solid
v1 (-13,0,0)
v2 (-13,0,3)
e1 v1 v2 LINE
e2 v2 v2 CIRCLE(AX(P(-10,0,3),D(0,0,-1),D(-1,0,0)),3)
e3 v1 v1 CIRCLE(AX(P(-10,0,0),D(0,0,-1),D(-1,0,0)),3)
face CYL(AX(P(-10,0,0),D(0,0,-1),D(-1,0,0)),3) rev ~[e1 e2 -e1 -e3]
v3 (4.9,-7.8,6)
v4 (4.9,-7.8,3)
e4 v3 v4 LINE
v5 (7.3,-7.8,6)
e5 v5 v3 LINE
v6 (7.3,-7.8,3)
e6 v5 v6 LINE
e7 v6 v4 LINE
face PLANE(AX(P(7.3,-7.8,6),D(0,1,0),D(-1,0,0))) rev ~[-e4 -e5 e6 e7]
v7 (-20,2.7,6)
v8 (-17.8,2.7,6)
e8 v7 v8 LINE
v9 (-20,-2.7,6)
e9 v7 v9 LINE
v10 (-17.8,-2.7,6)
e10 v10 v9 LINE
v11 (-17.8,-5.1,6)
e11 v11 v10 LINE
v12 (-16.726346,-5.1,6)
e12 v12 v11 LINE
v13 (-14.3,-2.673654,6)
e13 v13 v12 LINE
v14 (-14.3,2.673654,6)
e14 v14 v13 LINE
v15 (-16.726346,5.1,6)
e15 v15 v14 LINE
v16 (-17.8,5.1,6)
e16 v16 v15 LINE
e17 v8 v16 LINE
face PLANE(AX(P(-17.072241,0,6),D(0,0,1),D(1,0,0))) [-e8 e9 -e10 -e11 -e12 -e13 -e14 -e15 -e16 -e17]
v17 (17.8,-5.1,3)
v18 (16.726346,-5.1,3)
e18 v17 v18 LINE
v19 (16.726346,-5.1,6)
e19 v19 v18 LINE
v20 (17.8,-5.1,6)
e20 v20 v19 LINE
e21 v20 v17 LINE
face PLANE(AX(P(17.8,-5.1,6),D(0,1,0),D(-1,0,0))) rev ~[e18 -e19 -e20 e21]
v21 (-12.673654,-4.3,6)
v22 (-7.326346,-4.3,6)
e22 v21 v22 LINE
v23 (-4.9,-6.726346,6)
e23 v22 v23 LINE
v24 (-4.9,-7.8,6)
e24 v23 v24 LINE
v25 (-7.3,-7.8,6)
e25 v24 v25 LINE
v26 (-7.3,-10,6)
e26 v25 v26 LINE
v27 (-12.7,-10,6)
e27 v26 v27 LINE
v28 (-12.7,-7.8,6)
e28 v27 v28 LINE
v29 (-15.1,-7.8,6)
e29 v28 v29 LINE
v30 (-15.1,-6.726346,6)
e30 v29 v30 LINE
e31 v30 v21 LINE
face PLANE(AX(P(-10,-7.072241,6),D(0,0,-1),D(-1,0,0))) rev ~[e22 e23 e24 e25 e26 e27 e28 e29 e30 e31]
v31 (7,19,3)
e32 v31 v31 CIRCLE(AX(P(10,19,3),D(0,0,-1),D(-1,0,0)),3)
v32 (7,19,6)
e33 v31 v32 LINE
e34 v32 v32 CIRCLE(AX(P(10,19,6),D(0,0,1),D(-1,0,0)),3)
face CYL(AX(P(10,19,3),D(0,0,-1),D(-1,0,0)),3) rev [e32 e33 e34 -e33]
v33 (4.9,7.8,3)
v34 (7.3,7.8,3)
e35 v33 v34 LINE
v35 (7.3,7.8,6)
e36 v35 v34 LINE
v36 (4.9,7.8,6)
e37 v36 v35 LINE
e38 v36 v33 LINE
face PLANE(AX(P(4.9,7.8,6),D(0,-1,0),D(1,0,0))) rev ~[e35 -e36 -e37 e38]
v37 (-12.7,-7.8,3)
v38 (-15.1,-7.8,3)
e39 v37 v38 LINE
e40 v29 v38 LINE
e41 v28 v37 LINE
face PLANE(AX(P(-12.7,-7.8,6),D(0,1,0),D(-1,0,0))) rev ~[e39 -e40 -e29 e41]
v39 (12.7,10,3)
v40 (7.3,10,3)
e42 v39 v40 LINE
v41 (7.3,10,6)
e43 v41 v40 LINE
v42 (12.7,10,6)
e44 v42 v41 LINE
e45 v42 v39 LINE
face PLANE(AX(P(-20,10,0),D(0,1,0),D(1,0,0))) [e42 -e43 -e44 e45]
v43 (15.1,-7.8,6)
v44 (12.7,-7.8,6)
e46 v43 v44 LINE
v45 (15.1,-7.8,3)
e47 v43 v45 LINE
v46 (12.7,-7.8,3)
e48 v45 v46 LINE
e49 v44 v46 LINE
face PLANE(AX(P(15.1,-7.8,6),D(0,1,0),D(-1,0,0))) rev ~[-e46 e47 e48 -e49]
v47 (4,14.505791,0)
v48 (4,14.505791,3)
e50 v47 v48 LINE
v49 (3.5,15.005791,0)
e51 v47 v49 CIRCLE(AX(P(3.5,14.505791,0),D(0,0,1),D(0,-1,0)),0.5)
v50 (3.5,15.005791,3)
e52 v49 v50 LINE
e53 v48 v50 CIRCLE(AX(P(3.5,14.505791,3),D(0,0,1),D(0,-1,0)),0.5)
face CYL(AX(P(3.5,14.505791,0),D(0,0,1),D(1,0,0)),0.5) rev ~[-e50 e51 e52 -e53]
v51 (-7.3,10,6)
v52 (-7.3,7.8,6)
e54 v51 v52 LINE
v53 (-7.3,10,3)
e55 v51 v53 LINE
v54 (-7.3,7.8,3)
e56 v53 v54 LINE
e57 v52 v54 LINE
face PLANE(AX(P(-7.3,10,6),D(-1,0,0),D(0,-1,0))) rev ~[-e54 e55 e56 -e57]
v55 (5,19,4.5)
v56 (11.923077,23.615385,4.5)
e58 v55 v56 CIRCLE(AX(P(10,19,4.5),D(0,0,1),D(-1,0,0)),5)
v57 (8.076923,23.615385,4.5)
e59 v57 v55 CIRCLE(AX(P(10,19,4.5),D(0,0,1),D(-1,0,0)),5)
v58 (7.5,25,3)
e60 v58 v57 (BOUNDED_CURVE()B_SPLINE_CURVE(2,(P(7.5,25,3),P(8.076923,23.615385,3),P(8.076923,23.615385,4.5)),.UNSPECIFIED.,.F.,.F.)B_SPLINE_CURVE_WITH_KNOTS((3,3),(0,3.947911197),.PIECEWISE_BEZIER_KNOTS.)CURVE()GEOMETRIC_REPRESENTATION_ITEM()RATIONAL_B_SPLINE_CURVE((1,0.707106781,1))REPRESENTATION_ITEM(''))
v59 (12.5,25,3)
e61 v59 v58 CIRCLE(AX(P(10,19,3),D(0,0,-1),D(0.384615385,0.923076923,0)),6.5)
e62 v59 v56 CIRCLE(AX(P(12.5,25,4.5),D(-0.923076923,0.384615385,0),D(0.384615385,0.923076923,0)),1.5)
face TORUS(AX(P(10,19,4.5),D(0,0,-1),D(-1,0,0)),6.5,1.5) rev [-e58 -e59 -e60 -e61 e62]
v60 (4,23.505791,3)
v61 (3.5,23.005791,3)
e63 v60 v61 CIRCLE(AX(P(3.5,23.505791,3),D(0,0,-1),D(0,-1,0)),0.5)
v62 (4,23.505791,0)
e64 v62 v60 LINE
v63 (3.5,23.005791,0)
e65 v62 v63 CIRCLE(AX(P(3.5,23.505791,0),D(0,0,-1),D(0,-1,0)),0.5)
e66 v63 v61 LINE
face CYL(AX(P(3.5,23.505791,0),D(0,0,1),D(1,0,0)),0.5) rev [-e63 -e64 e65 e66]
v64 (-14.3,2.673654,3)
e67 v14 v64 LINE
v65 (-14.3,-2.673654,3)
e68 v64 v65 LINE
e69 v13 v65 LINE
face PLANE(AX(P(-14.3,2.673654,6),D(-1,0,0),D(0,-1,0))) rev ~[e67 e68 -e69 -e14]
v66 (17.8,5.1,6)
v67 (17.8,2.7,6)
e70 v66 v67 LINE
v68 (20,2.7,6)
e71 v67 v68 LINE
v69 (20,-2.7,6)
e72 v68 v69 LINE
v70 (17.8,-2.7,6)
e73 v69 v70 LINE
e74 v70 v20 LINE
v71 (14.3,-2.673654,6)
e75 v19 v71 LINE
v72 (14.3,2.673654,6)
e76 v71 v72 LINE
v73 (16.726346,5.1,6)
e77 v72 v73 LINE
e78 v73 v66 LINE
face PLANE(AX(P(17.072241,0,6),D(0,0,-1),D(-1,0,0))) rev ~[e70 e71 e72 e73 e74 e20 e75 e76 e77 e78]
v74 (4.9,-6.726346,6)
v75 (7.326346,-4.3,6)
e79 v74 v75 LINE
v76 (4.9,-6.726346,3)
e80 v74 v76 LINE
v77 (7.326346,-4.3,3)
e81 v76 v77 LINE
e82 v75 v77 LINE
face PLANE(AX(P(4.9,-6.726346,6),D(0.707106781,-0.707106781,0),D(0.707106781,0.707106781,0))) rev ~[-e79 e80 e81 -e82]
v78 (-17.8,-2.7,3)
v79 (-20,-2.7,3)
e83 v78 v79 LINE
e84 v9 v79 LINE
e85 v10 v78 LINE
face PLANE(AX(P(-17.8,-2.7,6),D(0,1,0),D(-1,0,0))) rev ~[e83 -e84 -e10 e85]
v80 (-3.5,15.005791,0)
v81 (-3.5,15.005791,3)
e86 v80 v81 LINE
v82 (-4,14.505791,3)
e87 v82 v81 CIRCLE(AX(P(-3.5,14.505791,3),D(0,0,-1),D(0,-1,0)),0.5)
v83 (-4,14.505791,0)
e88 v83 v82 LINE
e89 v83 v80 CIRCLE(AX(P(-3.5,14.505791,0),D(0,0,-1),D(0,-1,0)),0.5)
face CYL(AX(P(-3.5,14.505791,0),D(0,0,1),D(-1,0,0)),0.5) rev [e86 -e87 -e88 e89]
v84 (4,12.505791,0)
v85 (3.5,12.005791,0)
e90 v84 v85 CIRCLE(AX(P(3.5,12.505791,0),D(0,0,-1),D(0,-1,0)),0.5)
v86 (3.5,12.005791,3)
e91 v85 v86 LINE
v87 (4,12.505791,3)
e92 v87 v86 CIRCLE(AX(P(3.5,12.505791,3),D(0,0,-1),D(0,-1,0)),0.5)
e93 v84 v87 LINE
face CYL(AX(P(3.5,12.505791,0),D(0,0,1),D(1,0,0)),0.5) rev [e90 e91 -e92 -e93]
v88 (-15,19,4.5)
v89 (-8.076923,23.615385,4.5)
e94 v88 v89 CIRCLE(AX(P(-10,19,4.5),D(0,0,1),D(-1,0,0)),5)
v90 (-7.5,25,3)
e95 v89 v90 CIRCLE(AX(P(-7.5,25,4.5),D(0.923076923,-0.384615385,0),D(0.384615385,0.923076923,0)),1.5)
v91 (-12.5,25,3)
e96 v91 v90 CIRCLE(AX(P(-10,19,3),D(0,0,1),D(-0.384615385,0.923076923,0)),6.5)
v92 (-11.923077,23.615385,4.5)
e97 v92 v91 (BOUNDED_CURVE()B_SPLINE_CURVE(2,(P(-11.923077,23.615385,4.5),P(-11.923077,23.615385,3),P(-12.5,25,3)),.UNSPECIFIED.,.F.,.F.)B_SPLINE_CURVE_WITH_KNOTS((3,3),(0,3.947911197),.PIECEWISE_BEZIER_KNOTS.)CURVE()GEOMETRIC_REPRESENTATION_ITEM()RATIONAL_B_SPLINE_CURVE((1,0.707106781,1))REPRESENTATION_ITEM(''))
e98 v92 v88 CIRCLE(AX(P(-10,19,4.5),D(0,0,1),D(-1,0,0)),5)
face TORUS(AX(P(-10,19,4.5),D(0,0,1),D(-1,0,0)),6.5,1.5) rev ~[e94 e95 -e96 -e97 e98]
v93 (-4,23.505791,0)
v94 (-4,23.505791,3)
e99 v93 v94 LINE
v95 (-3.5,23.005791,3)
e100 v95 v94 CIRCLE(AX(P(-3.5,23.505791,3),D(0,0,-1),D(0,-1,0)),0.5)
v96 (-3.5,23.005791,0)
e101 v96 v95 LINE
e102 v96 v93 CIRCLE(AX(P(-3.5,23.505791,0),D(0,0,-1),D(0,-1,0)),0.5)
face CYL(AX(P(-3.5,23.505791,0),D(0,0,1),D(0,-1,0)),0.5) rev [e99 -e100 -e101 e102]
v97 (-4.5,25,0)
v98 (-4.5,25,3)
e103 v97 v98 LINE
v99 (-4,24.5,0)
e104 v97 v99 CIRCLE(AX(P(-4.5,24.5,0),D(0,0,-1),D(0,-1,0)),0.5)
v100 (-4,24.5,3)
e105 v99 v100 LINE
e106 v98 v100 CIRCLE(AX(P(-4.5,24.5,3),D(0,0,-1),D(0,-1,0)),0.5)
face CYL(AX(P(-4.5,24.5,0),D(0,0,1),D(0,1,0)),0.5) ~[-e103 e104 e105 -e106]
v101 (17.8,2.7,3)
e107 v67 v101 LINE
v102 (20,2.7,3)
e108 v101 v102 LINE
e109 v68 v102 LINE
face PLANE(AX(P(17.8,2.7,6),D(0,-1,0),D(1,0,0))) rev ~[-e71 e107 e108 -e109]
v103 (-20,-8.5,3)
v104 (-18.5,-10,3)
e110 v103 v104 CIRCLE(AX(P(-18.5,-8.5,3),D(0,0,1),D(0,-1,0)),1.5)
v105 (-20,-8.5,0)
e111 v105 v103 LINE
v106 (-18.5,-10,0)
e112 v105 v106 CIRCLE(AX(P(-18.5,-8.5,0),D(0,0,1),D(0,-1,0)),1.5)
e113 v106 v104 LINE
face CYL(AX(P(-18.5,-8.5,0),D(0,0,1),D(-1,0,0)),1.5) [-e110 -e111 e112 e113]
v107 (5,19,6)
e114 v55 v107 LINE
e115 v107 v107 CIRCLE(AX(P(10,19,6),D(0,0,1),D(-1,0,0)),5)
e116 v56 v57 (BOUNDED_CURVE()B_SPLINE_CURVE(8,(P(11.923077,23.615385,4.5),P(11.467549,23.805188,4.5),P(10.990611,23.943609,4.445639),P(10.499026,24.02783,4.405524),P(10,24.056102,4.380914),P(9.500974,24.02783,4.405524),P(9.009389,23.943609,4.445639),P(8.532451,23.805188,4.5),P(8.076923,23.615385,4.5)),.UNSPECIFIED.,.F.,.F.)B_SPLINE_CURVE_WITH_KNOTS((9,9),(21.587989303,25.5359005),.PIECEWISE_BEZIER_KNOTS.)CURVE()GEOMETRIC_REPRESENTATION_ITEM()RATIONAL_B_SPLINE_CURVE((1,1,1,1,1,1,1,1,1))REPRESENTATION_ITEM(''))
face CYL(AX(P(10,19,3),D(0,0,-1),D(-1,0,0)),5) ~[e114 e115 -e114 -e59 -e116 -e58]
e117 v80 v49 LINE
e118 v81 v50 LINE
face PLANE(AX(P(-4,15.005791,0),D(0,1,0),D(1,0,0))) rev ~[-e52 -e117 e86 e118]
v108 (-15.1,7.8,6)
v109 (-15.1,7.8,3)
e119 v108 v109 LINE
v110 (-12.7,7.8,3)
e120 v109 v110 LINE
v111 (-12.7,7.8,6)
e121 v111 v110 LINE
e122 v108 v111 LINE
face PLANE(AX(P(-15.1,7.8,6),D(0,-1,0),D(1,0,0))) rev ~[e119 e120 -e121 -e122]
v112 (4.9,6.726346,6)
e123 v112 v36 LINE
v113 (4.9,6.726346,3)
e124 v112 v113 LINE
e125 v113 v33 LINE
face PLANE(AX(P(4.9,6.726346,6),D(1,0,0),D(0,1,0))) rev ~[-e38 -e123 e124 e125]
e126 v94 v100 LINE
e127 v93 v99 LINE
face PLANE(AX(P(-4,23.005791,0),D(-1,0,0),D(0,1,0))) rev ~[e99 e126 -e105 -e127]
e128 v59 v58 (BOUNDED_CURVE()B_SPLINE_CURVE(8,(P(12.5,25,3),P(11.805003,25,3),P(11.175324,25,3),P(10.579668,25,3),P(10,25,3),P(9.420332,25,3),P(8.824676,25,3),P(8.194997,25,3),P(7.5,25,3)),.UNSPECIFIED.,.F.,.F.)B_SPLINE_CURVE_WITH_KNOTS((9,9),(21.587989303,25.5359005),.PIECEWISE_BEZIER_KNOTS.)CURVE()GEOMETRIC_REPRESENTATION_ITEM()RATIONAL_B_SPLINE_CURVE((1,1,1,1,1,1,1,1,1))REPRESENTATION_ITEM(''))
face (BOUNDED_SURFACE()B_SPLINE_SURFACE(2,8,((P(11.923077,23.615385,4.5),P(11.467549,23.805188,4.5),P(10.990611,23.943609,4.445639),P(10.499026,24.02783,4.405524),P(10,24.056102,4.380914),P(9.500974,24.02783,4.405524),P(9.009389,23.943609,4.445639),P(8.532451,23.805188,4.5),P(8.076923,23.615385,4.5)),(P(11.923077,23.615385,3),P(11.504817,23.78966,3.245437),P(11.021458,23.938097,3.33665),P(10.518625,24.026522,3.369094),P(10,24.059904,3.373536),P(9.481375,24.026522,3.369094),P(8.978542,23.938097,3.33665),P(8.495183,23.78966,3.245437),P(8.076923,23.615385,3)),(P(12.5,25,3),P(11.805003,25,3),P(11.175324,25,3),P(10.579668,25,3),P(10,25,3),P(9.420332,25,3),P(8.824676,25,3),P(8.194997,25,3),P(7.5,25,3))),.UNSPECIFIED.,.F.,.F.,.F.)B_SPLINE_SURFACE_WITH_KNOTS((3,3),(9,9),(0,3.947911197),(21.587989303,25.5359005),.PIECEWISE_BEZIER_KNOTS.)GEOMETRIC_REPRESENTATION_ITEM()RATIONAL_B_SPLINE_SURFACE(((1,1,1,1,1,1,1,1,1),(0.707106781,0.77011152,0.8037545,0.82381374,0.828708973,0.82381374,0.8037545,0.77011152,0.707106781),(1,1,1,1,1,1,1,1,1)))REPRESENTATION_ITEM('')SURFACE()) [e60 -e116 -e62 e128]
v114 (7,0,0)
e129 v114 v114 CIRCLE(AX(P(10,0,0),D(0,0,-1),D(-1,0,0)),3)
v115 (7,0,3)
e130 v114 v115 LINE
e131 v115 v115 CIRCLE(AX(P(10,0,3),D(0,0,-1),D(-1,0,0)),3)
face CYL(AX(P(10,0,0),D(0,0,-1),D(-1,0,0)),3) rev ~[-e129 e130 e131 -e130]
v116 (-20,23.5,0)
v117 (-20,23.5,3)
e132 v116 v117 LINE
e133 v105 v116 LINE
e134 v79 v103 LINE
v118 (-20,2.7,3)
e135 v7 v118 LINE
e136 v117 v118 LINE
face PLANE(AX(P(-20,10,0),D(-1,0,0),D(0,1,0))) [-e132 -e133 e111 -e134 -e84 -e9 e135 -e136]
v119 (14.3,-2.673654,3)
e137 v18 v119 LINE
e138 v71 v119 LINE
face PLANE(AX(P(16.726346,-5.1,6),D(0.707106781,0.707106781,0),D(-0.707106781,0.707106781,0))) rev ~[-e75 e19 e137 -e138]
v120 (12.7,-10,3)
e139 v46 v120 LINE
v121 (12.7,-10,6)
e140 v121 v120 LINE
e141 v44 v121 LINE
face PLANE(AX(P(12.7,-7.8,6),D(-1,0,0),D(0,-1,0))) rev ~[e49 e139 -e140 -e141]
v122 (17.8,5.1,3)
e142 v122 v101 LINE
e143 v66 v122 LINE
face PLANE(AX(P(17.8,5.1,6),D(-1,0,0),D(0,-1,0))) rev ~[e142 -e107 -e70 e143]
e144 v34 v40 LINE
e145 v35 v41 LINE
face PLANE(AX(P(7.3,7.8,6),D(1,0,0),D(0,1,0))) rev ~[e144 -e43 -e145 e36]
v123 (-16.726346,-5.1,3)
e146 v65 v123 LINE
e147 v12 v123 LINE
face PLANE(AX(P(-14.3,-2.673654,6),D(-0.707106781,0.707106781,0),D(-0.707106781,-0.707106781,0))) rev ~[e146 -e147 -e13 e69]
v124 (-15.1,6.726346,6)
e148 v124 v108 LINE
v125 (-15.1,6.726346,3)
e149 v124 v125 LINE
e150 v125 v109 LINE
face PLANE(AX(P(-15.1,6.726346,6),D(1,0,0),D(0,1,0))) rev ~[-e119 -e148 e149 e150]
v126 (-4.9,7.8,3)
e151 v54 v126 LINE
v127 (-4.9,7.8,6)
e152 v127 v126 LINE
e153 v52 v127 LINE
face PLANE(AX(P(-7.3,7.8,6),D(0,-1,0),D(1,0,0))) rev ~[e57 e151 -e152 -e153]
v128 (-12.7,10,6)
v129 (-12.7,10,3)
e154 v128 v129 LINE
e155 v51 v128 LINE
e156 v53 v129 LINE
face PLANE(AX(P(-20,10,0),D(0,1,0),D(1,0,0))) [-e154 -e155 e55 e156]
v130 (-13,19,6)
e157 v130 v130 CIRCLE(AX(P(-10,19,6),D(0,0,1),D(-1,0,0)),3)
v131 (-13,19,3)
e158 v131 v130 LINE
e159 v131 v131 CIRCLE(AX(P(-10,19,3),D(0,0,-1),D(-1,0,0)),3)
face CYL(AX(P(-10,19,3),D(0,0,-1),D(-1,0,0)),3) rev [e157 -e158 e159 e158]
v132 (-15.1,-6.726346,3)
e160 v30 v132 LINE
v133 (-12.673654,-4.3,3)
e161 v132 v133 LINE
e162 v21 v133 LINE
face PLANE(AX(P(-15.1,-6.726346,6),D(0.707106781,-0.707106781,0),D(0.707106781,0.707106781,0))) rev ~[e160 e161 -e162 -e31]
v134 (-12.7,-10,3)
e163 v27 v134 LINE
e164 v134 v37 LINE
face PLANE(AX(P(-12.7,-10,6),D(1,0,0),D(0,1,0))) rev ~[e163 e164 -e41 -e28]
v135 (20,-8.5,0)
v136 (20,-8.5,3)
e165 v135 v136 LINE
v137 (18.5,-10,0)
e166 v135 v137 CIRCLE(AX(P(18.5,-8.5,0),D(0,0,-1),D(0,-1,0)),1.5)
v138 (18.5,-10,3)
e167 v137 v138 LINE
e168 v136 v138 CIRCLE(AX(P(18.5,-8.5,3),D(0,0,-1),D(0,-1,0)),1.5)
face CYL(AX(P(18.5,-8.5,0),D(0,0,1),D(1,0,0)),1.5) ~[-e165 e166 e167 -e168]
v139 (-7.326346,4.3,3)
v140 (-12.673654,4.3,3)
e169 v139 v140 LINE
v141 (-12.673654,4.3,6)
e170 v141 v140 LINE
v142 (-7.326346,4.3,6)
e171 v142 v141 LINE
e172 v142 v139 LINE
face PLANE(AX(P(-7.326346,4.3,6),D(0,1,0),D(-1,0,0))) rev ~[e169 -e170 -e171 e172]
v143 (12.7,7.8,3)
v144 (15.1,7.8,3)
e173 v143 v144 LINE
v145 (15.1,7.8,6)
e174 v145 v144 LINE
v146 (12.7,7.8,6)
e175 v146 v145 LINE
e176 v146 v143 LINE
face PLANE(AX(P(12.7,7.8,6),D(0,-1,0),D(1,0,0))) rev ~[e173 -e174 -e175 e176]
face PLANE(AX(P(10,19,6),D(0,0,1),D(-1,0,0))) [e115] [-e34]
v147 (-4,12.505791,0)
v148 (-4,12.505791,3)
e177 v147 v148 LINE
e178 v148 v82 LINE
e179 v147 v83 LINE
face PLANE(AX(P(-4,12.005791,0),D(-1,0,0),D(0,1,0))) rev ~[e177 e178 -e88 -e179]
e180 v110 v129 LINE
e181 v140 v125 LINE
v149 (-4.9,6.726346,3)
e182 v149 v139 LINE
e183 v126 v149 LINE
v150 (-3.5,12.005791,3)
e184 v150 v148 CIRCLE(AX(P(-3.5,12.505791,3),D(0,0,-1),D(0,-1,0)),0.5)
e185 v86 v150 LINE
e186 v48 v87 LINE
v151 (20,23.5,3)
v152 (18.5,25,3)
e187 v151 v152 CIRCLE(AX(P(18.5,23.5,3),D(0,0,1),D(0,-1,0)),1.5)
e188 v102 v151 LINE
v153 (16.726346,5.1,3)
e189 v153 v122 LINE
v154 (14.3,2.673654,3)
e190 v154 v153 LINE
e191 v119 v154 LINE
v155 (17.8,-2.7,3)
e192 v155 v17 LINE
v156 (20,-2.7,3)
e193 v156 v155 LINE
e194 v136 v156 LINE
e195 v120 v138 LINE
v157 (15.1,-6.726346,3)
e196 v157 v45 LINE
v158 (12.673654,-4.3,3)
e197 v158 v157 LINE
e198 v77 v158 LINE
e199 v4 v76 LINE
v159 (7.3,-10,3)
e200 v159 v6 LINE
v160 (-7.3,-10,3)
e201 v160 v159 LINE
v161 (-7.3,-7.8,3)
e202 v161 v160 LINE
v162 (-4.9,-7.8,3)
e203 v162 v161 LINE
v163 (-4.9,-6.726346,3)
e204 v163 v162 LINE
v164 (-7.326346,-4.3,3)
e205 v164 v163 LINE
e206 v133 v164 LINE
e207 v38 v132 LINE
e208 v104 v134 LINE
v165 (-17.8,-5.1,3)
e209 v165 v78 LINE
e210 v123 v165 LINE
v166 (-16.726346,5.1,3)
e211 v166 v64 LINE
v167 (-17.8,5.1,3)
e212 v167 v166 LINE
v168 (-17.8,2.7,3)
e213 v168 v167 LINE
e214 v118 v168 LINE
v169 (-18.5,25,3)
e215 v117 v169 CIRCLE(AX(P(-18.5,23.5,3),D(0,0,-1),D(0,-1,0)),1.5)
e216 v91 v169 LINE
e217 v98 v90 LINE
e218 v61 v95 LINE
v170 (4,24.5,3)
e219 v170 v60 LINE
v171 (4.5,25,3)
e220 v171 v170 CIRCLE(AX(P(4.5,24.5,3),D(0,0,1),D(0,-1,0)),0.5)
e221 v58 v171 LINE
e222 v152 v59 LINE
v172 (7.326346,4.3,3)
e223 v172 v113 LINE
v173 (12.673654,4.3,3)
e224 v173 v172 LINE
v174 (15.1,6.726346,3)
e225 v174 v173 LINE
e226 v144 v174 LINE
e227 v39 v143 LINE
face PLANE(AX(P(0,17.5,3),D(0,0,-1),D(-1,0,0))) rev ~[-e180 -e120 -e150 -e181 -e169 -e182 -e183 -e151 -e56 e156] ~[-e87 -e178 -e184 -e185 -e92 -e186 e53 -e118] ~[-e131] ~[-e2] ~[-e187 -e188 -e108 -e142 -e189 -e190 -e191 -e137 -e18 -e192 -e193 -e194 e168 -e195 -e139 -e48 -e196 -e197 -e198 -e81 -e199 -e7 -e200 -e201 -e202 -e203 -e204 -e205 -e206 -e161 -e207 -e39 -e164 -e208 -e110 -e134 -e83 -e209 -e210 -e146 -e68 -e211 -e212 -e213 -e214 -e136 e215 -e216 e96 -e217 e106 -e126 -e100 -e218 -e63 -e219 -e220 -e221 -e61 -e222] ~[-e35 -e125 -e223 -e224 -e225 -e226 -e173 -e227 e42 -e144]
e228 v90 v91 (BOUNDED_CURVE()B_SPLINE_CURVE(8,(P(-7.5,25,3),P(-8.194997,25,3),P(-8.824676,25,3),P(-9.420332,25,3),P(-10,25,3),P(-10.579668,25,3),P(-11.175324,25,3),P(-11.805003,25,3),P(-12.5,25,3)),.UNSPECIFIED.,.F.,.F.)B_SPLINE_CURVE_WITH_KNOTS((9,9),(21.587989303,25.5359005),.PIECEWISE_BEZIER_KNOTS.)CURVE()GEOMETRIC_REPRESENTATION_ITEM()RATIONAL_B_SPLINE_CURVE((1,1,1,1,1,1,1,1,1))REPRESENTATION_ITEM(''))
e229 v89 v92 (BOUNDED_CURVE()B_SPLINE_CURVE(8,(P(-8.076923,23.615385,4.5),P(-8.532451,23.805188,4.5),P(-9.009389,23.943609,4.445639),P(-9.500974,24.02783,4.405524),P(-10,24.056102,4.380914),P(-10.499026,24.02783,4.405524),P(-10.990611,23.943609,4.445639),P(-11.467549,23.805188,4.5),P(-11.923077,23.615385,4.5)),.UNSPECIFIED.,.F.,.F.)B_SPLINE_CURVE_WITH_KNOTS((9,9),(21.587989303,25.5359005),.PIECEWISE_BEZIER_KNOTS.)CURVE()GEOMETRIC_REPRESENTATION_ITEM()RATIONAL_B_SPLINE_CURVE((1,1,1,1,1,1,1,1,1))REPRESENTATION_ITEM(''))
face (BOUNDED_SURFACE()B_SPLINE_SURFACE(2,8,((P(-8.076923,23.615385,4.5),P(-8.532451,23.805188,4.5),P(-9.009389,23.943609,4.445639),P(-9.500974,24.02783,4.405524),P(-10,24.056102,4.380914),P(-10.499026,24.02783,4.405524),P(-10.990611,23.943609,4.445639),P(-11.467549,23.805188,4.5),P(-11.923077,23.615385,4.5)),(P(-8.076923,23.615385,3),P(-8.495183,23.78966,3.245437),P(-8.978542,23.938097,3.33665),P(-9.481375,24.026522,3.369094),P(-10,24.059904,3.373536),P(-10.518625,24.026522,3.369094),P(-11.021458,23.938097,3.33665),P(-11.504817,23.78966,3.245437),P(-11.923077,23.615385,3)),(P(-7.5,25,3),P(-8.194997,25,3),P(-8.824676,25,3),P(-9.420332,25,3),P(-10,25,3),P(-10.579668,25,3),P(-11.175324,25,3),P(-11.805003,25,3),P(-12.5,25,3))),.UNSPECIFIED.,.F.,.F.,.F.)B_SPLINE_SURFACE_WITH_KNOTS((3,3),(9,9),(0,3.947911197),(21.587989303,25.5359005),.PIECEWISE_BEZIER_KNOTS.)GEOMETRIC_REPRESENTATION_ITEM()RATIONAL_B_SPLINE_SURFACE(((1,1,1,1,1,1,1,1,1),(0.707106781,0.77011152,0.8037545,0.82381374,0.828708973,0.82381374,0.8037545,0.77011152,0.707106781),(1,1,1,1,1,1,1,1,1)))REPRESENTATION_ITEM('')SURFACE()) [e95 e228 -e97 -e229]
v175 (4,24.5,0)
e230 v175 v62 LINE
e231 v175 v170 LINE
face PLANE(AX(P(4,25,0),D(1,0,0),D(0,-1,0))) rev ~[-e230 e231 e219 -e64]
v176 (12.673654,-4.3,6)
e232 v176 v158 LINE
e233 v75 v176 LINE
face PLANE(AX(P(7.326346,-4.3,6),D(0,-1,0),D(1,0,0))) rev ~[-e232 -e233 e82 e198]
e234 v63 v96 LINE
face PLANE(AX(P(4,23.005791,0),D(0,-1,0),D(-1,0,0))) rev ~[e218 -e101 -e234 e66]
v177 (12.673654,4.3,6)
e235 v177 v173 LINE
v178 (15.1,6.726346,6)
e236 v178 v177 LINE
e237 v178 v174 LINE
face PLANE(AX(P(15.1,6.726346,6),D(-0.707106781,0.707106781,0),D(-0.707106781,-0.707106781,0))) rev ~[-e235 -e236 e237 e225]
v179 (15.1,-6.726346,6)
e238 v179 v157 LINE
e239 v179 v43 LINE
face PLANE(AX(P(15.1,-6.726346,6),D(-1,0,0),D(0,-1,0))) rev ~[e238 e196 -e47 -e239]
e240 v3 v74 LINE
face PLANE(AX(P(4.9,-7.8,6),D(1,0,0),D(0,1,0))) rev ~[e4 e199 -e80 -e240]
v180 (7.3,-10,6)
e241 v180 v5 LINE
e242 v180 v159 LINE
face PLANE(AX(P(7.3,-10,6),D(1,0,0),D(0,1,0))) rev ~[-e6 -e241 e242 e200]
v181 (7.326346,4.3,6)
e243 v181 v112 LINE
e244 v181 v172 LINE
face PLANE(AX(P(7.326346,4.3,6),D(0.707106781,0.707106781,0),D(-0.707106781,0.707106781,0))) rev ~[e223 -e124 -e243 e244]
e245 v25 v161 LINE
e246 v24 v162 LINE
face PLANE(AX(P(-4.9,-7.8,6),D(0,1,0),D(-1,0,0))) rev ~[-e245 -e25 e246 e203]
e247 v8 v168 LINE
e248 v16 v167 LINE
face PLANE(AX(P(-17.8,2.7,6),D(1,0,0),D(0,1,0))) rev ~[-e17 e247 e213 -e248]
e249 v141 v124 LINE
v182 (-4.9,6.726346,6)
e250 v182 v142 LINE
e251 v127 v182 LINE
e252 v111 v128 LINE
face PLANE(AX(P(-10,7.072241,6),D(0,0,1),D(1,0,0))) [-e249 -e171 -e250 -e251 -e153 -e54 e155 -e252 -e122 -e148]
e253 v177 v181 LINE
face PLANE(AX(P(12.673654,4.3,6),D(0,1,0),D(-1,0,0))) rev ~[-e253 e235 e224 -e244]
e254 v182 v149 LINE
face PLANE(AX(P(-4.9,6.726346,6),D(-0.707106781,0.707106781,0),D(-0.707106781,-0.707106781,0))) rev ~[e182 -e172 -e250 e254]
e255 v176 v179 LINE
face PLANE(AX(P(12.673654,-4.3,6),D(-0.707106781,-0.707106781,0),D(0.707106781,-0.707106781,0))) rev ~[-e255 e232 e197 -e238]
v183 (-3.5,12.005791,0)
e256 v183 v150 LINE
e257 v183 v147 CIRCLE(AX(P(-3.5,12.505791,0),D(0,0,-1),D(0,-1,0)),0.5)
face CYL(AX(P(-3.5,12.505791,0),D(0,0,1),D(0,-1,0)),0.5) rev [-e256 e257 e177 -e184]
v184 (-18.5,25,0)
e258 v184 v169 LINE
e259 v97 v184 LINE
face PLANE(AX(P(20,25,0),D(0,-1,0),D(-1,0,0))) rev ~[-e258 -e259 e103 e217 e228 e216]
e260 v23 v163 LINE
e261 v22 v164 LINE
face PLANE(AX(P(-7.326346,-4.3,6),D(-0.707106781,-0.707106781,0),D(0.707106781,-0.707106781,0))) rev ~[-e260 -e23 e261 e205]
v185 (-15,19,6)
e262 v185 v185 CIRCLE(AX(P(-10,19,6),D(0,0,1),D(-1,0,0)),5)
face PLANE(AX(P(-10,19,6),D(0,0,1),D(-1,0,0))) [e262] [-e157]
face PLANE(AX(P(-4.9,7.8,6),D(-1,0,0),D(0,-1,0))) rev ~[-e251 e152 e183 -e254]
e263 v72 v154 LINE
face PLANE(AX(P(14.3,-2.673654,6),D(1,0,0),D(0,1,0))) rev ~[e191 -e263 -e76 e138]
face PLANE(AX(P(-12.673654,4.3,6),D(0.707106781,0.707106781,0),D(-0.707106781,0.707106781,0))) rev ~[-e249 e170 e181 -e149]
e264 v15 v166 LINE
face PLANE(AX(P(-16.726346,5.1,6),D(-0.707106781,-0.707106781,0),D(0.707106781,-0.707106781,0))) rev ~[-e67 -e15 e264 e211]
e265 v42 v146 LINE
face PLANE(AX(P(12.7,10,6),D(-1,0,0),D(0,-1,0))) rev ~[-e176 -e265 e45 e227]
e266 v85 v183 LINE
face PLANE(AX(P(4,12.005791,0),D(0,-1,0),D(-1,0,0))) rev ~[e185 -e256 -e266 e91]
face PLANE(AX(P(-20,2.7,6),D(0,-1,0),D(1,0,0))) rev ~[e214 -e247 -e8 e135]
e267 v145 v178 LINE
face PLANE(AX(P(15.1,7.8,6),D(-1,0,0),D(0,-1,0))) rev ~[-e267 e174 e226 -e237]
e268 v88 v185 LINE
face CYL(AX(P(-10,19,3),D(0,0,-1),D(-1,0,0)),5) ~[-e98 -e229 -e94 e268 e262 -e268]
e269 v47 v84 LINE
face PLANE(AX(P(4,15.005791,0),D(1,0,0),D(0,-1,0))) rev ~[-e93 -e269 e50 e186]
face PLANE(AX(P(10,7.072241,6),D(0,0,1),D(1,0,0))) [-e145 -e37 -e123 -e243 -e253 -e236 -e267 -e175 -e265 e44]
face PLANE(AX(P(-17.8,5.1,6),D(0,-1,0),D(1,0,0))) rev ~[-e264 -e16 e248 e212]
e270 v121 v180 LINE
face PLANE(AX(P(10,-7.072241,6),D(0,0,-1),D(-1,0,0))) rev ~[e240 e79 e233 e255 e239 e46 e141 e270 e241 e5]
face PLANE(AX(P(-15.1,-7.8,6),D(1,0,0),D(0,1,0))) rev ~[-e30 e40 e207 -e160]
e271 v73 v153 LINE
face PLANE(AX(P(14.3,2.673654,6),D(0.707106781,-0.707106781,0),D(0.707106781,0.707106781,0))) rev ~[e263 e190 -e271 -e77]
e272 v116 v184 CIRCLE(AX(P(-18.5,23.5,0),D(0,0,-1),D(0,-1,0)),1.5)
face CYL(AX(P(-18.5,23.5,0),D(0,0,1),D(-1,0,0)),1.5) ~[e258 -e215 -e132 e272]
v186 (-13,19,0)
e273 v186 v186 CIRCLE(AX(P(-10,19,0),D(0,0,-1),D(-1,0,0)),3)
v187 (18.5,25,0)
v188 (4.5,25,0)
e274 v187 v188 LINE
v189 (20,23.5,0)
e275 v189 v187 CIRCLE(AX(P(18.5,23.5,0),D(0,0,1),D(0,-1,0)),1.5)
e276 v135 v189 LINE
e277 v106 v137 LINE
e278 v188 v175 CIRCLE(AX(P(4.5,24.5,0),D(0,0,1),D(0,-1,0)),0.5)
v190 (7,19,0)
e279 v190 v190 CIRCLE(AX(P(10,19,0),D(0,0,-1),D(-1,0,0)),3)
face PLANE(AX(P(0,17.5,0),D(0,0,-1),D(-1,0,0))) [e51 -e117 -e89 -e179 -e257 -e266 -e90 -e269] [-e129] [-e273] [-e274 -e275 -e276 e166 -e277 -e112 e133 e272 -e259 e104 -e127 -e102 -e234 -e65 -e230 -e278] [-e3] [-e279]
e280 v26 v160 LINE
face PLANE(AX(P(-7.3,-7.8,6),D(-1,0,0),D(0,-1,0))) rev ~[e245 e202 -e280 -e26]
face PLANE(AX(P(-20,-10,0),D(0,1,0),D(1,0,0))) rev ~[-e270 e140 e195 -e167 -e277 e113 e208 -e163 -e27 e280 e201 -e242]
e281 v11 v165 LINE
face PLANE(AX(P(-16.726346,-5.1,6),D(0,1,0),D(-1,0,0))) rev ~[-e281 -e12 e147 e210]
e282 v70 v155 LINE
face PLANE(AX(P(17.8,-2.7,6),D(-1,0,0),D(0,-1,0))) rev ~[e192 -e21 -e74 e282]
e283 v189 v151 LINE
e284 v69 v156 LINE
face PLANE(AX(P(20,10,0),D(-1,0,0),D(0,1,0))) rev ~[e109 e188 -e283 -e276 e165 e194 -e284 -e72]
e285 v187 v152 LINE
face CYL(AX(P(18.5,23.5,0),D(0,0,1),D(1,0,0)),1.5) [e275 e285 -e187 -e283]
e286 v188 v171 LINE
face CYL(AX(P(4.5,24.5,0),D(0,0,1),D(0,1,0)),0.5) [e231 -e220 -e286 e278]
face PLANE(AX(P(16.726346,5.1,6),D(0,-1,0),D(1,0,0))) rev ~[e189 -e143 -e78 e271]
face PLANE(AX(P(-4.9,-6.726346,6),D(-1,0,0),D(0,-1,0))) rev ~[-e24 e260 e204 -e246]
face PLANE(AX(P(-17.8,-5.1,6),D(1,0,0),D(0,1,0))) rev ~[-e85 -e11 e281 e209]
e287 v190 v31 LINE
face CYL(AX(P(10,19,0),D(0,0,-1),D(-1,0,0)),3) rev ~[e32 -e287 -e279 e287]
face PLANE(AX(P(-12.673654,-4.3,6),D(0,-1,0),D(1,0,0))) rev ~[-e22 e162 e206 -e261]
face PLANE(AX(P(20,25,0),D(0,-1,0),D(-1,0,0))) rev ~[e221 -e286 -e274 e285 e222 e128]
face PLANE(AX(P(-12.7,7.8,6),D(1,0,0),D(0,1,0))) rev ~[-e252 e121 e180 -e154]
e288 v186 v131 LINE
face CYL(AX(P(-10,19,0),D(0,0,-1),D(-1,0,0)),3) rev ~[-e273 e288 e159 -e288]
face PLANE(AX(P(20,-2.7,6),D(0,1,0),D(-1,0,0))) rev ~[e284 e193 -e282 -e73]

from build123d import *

# Parameters (mm, degrees)
SKETCH_1_W          = 40
SKETCH_1_H          = 20
EXTRUDE_1_DEPTH     = 3
EXTRUDE_2_DEPTH     = 3
SKETCH_3_R          = 3
CUT_EXTRUDE_1_DEPTH = 3
SKETCH_4_W          = 40
SKETCH_4_H          = 15
SKETCH_4_R          = 3
EXTRUDE_3_DEPTH     = 3
FILLET_3_R          = 1.5
SKETCH_5_R          = 5
SKETCH_5_R_2        = 3
EXTRUDE_4_DEPTH     = 3
FILLET_4_R          = 1.5
CUT_EXTRUDE_2_DEPTH = 10
FILLET_6_R          = 0.5
CUT_EXTRUDE_3_DEPTH = 3


with BuildPart() as part:
    # 草图1 → 凸台-拉伸1 (new body)
    with BuildSketch(Plane.XY):
        Rectangle(SKETCH_1_W, SKETCH_1_H)
    extrude(amount=EXTRUDE_1_DEPTH)

    # 草图2 → 凸台-拉伸2 (add)
    with BuildSketch(Plane.XY.offset(3)):
        Polygon((-6.9, 8.2), (-6.9, 10), (-13.1, 10), (-13.1, 8.2), (-15.5, 8.2), (-15.5, 6.560660172), (-12.839339828, 3.9), (-7.160660172, 3.9), (-4.5, 6.560660172), (-4.5, 8.2), align=None)
        Polygon((-16.560660172, 5.5), (-18.2, 5.5), (-18.2, 3.1), (-20, 3.1), (-20, -3.1), (-18.2, -3.1), (-18.2, -5.5), (-16.560660172, -5.5), (-13.9, -2.839339828), (-13.9, 2.839339828), align=None)
        Polygon((-12.839339828, -3.9), (-7.160660172, -3.9), (-4.5, -6.560660172), (-4.5, -8.2), (-6.9, -8.2), (-6.9, -10), (-13.1, -10), (-13.1, -8.2), (-15.5, -8.2), (-15.5, -6.560660172), align=None)
        Polygon((18.2, 3.1), (20, 3.1), (20, -3.1), (18.2, -3.1), (18.2, -5.5), (16.560660172, -5.5), (13.9, -2.839339828), (13.9, 2.839339828), (16.560660172, 5.5), (18.2, 5.5), align=None)
        Polygon((13.1, 8.2), (13.1, 10), (6.9, 10), (6.9, 8.2), (4.5, 8.2), (4.5, 6.560660172), (7.160660172, 3.9), (12.839339828, 3.9), (15.5, 6.560660172), (15.5, 8.2), align=None)
        Polygon((7.160660172, -3.9), (12.839339828, -3.9), (15.5, -6.560660172), (15.5, -8.2), (13.1, -8.2), (13.1, -10), (6.9, -10), (6.9, -8.2), (4.5, -8.2), (4.5, -6.560660172), align=None)
    extrude(amount=EXTRUDE_2_DEPTH)

    # 草图3 → 切除-拉伸1 (cut)
    with BuildSketch(Plane(origin=(0, 0, 0), x_dir=(-1, 0, 0), z_dir=(0, 0, -1))):
        with Locations((-10, 0)):
            Circle(SKETCH_3_R)
        with Locations((10, 0)):
            Circle(SKETCH_3_R)
    extrude(amount=-CUT_EXTRUDE_1_DEPTH, mode=Mode.SUBTRACT)

    # 草图4 → 凸台-拉伸3 (add)
    with BuildSketch(Plane(origin=(0, 0, 0), x_dir=(-1, 0, 0), z_dir=(0, 0, -1))):
        with Locations((0, 17.5)):
            Rectangle(SKETCH_4_W, SKETCH_4_H)
        with Locations((-10, 19)):
            Circle(SKETCH_4_R, mode=Mode.SUBTRACT)
        with Locations((10, 19)):
            Circle(SKETCH_4_R, mode=Mode.SUBTRACT)
    extrude(amount=-EXTRUDE_3_DEPTH)

    # 圆角3
    fillet_3_edges = [part.edges().sort_by_distance(p)[0] for p in [
        (20, 25, 1.5),
        (-20, 25, 1.5),
        (20, -10, 1.5),
        (-20, -10, 1.5),
    ]]
    fillet(fillet_3_edges, radius=FILLET_3_R)

    # 草图5 → 凸台-拉伸4 (add)
    # profile 1 of 2: a face of its own
    with BuildSketch(Plane.XY.offset(3)):
        with Locations(Location((-10, 19, 0), (0, 0, 180))):
            Circle(SKETCH_5_R)
        with Locations(Location((-10, 19, 0), (0, 0, 180))):
            Circle(SKETCH_5_R_2, mode=Mode.SUBTRACT)
    # profile 2 of 2: a face of its own
    with BuildSketch(Plane.XY.offset(3)):
        with Locations(Location((10, 19, 0), (0, 0, 180))):
            Circle(SKETCH_5_R)
        with Locations(Location((10, 19, 0), (0, 0, 180))):
            Circle(SKETCH_5_R_2, mode=Mode.SUBTRACT)
    extrude(amount=EXTRUDE_4_DEPTH)

    # 圆角4
    fillet_4_edges = [part.edges().sort_by_distance(p)[0] for p in [
        (-5, 19, 3),
        (15, 19, 3),
    ]]
    fillet(fillet_4_edges, radius=FILLET_4_R)

    # 草图6 → 切除-拉伸2 (cut)
    with BuildSketch(Plane(origin=(0, 0, 0), x_dir=(-1, 0, 0), z_dir=(0, 0, -1))):
        Polygon((0, 23.005790595), (4, 23.005790595), (4, 25), (-4, 25), (-4, 23.005790595), align=None)
        Polygon((0, 15.005790595), (-4, 15.005790595), (-4, 12.005790595), (4, 12.005790595), (4, 15.005790595), align=None)
    extrude(amount=-CUT_EXTRUDE_2_DEPTH, mode=Mode.SUBTRACT)

    # 圆角6
    fillet_6_edges = [part.edges().sort_by_distance(p)[0] for p in [
        (4, 25, 1.5),
        (-4, 25, 1.5),
        (-4, 23.005790595, 1.5),
        (4, 23.005790595, 1.5),
        (4, 12.005790595, 1.5),
        (4, 15.005790595, 1.5),
        (-4, 15.005790595, 1.5),
        (-4, 12.005790595, 1.5),
    ]]
    fillet(fillet_6_edges, radius=FILLET_6_R)

    # 草图7 → 切除-拉伸3 (cut)
    with BuildSketch(Plane.XY.offset(6)):
        Polygon((-18.2, -3.1), (-18.2, -5.5), (-16.560660172, -5.5), (-13.9, -2.839339828), (-13.9, 2.839339828), (-16.560660172, 5.5), (-18.2, 5.5), (-18.2, 3.1), (-20, 3.1), (-20, 2.7), (-19.6, 2.7), (-17.8, 2.7), (-17.8, 5.1), (-16.726345597, 5.1), (-14.3, 2.673654403), (-14.3, -2.673654403), (-16.726345597, -5.1), (-17.8, -5.1), (-17.8, -2.7), (-19.6, -2.7), (-20, -2.7), (-20, -3.1), align=None)
        Polygon((-12.839339828, -3.9), (-15.5, -6.560660172), (-15.5, -8.2), (-13.1, -8.2), (-13.1, -10), (-12.7, -10), (-12.7, -9.6), (-12.7, -7.8), (-15.1, -7.8), (-15.1, -6.726345597), (-12.673654403, -4.3), (-7.326345597, -4.3), (-4.9, -6.726345597), (-4.9, -7.8), (-7.3, -7.8), (-7.3, -9.6), (-7.3, -10), (-6.9, -10), (-6.9, -8.2), (-4.5, -8.2), (-4.5, -6.560660172), (-7.160660172, -3.9), align=None)
        Polygon((-4.5, 8.2), (-6.9, 8.2), (-6.9, 10), (-7.3, 10), (-7.3, 9.6), (-7.3, 7.8), (-4.9, 7.8), (-4.9, 6.726345597), (-7.326345597, 4.3), (-12.673654403, 4.3), (-15.1, 6.726345597), (-15.1, 7.8), (-12.7, 7.8), (-12.7, 9.6), (-12.7, 10), (-13.1, 10), (-13.1, 8.2), (-15.5, 8.2), (-15.5, 6.560660172), (-12.839339828, 3.9), (-7.160660172, 3.9), (-4.5, 6.560660172), align=None)
        Polygon((15.5, 8.2), (13.1, 8.2), (13.1, 10), (12.7, 10), (12.7, 9.6), (12.7, 7.8), (15.1, 7.8), (15.1, 6.726345597), (12.673654403, 4.3), (7.326345597, 4.3), (4.9, 6.726345597), (4.9, 7.8), (7.3, 7.8), (7.3, 9.6), (7.3, 10), (6.9, 10), (6.9, 8.2), (4.5, 8.2), (4.5, 6.560660172), (7.160660172, 3.9), (12.839339828, 3.9), (15.5, 6.560660172), align=None)
        Polygon((18.2, 3.1), (18.2, 5.5), (16.560660172, 5.5), (13.9, 2.839339828), (13.9, -2.839339828), (16.560660172, -5.5), (18.2, -5.5), (18.2, -3.1), (20, -3.1), (20, -2.7), (19.6, -2.7), (17.8, -2.7), (17.8, -5.1), (16.726345597, -5.1), (14.3, -2.673654403), (14.3, 2.673654403), (16.726345597, 5.1), (17.8, 5.1), (17.8, 2.7), (19.6, 2.7), (20, 2.7), (20, 3.1), align=None)
        Polygon((7.160660172, -3.9), (4.5, -6.560660172), (4.5, -8.2), (6.9, -8.2), (6.9, -10), (7.3, -10), (7.3, -9.6), (7.3, -7.8), (4.9, -7.8), (4.9, -6.726345597), (7.326345597, -4.3), (12.673654403, -4.3), (15.1, -6.726345597), (15.1, -7.8), (12.7, -7.8), (12.7, -9.6), (12.7, -10), (13.1, -10), (13.1, -8.2), (15.5, -8.2), (15.5, -6.560660172), (12.839339828, -3.9), align=None)
    extrude(amount=-CUT_EXTRUDE_3_DEPTH, mode=Mode.SUBTRACT)


solid = part.part
